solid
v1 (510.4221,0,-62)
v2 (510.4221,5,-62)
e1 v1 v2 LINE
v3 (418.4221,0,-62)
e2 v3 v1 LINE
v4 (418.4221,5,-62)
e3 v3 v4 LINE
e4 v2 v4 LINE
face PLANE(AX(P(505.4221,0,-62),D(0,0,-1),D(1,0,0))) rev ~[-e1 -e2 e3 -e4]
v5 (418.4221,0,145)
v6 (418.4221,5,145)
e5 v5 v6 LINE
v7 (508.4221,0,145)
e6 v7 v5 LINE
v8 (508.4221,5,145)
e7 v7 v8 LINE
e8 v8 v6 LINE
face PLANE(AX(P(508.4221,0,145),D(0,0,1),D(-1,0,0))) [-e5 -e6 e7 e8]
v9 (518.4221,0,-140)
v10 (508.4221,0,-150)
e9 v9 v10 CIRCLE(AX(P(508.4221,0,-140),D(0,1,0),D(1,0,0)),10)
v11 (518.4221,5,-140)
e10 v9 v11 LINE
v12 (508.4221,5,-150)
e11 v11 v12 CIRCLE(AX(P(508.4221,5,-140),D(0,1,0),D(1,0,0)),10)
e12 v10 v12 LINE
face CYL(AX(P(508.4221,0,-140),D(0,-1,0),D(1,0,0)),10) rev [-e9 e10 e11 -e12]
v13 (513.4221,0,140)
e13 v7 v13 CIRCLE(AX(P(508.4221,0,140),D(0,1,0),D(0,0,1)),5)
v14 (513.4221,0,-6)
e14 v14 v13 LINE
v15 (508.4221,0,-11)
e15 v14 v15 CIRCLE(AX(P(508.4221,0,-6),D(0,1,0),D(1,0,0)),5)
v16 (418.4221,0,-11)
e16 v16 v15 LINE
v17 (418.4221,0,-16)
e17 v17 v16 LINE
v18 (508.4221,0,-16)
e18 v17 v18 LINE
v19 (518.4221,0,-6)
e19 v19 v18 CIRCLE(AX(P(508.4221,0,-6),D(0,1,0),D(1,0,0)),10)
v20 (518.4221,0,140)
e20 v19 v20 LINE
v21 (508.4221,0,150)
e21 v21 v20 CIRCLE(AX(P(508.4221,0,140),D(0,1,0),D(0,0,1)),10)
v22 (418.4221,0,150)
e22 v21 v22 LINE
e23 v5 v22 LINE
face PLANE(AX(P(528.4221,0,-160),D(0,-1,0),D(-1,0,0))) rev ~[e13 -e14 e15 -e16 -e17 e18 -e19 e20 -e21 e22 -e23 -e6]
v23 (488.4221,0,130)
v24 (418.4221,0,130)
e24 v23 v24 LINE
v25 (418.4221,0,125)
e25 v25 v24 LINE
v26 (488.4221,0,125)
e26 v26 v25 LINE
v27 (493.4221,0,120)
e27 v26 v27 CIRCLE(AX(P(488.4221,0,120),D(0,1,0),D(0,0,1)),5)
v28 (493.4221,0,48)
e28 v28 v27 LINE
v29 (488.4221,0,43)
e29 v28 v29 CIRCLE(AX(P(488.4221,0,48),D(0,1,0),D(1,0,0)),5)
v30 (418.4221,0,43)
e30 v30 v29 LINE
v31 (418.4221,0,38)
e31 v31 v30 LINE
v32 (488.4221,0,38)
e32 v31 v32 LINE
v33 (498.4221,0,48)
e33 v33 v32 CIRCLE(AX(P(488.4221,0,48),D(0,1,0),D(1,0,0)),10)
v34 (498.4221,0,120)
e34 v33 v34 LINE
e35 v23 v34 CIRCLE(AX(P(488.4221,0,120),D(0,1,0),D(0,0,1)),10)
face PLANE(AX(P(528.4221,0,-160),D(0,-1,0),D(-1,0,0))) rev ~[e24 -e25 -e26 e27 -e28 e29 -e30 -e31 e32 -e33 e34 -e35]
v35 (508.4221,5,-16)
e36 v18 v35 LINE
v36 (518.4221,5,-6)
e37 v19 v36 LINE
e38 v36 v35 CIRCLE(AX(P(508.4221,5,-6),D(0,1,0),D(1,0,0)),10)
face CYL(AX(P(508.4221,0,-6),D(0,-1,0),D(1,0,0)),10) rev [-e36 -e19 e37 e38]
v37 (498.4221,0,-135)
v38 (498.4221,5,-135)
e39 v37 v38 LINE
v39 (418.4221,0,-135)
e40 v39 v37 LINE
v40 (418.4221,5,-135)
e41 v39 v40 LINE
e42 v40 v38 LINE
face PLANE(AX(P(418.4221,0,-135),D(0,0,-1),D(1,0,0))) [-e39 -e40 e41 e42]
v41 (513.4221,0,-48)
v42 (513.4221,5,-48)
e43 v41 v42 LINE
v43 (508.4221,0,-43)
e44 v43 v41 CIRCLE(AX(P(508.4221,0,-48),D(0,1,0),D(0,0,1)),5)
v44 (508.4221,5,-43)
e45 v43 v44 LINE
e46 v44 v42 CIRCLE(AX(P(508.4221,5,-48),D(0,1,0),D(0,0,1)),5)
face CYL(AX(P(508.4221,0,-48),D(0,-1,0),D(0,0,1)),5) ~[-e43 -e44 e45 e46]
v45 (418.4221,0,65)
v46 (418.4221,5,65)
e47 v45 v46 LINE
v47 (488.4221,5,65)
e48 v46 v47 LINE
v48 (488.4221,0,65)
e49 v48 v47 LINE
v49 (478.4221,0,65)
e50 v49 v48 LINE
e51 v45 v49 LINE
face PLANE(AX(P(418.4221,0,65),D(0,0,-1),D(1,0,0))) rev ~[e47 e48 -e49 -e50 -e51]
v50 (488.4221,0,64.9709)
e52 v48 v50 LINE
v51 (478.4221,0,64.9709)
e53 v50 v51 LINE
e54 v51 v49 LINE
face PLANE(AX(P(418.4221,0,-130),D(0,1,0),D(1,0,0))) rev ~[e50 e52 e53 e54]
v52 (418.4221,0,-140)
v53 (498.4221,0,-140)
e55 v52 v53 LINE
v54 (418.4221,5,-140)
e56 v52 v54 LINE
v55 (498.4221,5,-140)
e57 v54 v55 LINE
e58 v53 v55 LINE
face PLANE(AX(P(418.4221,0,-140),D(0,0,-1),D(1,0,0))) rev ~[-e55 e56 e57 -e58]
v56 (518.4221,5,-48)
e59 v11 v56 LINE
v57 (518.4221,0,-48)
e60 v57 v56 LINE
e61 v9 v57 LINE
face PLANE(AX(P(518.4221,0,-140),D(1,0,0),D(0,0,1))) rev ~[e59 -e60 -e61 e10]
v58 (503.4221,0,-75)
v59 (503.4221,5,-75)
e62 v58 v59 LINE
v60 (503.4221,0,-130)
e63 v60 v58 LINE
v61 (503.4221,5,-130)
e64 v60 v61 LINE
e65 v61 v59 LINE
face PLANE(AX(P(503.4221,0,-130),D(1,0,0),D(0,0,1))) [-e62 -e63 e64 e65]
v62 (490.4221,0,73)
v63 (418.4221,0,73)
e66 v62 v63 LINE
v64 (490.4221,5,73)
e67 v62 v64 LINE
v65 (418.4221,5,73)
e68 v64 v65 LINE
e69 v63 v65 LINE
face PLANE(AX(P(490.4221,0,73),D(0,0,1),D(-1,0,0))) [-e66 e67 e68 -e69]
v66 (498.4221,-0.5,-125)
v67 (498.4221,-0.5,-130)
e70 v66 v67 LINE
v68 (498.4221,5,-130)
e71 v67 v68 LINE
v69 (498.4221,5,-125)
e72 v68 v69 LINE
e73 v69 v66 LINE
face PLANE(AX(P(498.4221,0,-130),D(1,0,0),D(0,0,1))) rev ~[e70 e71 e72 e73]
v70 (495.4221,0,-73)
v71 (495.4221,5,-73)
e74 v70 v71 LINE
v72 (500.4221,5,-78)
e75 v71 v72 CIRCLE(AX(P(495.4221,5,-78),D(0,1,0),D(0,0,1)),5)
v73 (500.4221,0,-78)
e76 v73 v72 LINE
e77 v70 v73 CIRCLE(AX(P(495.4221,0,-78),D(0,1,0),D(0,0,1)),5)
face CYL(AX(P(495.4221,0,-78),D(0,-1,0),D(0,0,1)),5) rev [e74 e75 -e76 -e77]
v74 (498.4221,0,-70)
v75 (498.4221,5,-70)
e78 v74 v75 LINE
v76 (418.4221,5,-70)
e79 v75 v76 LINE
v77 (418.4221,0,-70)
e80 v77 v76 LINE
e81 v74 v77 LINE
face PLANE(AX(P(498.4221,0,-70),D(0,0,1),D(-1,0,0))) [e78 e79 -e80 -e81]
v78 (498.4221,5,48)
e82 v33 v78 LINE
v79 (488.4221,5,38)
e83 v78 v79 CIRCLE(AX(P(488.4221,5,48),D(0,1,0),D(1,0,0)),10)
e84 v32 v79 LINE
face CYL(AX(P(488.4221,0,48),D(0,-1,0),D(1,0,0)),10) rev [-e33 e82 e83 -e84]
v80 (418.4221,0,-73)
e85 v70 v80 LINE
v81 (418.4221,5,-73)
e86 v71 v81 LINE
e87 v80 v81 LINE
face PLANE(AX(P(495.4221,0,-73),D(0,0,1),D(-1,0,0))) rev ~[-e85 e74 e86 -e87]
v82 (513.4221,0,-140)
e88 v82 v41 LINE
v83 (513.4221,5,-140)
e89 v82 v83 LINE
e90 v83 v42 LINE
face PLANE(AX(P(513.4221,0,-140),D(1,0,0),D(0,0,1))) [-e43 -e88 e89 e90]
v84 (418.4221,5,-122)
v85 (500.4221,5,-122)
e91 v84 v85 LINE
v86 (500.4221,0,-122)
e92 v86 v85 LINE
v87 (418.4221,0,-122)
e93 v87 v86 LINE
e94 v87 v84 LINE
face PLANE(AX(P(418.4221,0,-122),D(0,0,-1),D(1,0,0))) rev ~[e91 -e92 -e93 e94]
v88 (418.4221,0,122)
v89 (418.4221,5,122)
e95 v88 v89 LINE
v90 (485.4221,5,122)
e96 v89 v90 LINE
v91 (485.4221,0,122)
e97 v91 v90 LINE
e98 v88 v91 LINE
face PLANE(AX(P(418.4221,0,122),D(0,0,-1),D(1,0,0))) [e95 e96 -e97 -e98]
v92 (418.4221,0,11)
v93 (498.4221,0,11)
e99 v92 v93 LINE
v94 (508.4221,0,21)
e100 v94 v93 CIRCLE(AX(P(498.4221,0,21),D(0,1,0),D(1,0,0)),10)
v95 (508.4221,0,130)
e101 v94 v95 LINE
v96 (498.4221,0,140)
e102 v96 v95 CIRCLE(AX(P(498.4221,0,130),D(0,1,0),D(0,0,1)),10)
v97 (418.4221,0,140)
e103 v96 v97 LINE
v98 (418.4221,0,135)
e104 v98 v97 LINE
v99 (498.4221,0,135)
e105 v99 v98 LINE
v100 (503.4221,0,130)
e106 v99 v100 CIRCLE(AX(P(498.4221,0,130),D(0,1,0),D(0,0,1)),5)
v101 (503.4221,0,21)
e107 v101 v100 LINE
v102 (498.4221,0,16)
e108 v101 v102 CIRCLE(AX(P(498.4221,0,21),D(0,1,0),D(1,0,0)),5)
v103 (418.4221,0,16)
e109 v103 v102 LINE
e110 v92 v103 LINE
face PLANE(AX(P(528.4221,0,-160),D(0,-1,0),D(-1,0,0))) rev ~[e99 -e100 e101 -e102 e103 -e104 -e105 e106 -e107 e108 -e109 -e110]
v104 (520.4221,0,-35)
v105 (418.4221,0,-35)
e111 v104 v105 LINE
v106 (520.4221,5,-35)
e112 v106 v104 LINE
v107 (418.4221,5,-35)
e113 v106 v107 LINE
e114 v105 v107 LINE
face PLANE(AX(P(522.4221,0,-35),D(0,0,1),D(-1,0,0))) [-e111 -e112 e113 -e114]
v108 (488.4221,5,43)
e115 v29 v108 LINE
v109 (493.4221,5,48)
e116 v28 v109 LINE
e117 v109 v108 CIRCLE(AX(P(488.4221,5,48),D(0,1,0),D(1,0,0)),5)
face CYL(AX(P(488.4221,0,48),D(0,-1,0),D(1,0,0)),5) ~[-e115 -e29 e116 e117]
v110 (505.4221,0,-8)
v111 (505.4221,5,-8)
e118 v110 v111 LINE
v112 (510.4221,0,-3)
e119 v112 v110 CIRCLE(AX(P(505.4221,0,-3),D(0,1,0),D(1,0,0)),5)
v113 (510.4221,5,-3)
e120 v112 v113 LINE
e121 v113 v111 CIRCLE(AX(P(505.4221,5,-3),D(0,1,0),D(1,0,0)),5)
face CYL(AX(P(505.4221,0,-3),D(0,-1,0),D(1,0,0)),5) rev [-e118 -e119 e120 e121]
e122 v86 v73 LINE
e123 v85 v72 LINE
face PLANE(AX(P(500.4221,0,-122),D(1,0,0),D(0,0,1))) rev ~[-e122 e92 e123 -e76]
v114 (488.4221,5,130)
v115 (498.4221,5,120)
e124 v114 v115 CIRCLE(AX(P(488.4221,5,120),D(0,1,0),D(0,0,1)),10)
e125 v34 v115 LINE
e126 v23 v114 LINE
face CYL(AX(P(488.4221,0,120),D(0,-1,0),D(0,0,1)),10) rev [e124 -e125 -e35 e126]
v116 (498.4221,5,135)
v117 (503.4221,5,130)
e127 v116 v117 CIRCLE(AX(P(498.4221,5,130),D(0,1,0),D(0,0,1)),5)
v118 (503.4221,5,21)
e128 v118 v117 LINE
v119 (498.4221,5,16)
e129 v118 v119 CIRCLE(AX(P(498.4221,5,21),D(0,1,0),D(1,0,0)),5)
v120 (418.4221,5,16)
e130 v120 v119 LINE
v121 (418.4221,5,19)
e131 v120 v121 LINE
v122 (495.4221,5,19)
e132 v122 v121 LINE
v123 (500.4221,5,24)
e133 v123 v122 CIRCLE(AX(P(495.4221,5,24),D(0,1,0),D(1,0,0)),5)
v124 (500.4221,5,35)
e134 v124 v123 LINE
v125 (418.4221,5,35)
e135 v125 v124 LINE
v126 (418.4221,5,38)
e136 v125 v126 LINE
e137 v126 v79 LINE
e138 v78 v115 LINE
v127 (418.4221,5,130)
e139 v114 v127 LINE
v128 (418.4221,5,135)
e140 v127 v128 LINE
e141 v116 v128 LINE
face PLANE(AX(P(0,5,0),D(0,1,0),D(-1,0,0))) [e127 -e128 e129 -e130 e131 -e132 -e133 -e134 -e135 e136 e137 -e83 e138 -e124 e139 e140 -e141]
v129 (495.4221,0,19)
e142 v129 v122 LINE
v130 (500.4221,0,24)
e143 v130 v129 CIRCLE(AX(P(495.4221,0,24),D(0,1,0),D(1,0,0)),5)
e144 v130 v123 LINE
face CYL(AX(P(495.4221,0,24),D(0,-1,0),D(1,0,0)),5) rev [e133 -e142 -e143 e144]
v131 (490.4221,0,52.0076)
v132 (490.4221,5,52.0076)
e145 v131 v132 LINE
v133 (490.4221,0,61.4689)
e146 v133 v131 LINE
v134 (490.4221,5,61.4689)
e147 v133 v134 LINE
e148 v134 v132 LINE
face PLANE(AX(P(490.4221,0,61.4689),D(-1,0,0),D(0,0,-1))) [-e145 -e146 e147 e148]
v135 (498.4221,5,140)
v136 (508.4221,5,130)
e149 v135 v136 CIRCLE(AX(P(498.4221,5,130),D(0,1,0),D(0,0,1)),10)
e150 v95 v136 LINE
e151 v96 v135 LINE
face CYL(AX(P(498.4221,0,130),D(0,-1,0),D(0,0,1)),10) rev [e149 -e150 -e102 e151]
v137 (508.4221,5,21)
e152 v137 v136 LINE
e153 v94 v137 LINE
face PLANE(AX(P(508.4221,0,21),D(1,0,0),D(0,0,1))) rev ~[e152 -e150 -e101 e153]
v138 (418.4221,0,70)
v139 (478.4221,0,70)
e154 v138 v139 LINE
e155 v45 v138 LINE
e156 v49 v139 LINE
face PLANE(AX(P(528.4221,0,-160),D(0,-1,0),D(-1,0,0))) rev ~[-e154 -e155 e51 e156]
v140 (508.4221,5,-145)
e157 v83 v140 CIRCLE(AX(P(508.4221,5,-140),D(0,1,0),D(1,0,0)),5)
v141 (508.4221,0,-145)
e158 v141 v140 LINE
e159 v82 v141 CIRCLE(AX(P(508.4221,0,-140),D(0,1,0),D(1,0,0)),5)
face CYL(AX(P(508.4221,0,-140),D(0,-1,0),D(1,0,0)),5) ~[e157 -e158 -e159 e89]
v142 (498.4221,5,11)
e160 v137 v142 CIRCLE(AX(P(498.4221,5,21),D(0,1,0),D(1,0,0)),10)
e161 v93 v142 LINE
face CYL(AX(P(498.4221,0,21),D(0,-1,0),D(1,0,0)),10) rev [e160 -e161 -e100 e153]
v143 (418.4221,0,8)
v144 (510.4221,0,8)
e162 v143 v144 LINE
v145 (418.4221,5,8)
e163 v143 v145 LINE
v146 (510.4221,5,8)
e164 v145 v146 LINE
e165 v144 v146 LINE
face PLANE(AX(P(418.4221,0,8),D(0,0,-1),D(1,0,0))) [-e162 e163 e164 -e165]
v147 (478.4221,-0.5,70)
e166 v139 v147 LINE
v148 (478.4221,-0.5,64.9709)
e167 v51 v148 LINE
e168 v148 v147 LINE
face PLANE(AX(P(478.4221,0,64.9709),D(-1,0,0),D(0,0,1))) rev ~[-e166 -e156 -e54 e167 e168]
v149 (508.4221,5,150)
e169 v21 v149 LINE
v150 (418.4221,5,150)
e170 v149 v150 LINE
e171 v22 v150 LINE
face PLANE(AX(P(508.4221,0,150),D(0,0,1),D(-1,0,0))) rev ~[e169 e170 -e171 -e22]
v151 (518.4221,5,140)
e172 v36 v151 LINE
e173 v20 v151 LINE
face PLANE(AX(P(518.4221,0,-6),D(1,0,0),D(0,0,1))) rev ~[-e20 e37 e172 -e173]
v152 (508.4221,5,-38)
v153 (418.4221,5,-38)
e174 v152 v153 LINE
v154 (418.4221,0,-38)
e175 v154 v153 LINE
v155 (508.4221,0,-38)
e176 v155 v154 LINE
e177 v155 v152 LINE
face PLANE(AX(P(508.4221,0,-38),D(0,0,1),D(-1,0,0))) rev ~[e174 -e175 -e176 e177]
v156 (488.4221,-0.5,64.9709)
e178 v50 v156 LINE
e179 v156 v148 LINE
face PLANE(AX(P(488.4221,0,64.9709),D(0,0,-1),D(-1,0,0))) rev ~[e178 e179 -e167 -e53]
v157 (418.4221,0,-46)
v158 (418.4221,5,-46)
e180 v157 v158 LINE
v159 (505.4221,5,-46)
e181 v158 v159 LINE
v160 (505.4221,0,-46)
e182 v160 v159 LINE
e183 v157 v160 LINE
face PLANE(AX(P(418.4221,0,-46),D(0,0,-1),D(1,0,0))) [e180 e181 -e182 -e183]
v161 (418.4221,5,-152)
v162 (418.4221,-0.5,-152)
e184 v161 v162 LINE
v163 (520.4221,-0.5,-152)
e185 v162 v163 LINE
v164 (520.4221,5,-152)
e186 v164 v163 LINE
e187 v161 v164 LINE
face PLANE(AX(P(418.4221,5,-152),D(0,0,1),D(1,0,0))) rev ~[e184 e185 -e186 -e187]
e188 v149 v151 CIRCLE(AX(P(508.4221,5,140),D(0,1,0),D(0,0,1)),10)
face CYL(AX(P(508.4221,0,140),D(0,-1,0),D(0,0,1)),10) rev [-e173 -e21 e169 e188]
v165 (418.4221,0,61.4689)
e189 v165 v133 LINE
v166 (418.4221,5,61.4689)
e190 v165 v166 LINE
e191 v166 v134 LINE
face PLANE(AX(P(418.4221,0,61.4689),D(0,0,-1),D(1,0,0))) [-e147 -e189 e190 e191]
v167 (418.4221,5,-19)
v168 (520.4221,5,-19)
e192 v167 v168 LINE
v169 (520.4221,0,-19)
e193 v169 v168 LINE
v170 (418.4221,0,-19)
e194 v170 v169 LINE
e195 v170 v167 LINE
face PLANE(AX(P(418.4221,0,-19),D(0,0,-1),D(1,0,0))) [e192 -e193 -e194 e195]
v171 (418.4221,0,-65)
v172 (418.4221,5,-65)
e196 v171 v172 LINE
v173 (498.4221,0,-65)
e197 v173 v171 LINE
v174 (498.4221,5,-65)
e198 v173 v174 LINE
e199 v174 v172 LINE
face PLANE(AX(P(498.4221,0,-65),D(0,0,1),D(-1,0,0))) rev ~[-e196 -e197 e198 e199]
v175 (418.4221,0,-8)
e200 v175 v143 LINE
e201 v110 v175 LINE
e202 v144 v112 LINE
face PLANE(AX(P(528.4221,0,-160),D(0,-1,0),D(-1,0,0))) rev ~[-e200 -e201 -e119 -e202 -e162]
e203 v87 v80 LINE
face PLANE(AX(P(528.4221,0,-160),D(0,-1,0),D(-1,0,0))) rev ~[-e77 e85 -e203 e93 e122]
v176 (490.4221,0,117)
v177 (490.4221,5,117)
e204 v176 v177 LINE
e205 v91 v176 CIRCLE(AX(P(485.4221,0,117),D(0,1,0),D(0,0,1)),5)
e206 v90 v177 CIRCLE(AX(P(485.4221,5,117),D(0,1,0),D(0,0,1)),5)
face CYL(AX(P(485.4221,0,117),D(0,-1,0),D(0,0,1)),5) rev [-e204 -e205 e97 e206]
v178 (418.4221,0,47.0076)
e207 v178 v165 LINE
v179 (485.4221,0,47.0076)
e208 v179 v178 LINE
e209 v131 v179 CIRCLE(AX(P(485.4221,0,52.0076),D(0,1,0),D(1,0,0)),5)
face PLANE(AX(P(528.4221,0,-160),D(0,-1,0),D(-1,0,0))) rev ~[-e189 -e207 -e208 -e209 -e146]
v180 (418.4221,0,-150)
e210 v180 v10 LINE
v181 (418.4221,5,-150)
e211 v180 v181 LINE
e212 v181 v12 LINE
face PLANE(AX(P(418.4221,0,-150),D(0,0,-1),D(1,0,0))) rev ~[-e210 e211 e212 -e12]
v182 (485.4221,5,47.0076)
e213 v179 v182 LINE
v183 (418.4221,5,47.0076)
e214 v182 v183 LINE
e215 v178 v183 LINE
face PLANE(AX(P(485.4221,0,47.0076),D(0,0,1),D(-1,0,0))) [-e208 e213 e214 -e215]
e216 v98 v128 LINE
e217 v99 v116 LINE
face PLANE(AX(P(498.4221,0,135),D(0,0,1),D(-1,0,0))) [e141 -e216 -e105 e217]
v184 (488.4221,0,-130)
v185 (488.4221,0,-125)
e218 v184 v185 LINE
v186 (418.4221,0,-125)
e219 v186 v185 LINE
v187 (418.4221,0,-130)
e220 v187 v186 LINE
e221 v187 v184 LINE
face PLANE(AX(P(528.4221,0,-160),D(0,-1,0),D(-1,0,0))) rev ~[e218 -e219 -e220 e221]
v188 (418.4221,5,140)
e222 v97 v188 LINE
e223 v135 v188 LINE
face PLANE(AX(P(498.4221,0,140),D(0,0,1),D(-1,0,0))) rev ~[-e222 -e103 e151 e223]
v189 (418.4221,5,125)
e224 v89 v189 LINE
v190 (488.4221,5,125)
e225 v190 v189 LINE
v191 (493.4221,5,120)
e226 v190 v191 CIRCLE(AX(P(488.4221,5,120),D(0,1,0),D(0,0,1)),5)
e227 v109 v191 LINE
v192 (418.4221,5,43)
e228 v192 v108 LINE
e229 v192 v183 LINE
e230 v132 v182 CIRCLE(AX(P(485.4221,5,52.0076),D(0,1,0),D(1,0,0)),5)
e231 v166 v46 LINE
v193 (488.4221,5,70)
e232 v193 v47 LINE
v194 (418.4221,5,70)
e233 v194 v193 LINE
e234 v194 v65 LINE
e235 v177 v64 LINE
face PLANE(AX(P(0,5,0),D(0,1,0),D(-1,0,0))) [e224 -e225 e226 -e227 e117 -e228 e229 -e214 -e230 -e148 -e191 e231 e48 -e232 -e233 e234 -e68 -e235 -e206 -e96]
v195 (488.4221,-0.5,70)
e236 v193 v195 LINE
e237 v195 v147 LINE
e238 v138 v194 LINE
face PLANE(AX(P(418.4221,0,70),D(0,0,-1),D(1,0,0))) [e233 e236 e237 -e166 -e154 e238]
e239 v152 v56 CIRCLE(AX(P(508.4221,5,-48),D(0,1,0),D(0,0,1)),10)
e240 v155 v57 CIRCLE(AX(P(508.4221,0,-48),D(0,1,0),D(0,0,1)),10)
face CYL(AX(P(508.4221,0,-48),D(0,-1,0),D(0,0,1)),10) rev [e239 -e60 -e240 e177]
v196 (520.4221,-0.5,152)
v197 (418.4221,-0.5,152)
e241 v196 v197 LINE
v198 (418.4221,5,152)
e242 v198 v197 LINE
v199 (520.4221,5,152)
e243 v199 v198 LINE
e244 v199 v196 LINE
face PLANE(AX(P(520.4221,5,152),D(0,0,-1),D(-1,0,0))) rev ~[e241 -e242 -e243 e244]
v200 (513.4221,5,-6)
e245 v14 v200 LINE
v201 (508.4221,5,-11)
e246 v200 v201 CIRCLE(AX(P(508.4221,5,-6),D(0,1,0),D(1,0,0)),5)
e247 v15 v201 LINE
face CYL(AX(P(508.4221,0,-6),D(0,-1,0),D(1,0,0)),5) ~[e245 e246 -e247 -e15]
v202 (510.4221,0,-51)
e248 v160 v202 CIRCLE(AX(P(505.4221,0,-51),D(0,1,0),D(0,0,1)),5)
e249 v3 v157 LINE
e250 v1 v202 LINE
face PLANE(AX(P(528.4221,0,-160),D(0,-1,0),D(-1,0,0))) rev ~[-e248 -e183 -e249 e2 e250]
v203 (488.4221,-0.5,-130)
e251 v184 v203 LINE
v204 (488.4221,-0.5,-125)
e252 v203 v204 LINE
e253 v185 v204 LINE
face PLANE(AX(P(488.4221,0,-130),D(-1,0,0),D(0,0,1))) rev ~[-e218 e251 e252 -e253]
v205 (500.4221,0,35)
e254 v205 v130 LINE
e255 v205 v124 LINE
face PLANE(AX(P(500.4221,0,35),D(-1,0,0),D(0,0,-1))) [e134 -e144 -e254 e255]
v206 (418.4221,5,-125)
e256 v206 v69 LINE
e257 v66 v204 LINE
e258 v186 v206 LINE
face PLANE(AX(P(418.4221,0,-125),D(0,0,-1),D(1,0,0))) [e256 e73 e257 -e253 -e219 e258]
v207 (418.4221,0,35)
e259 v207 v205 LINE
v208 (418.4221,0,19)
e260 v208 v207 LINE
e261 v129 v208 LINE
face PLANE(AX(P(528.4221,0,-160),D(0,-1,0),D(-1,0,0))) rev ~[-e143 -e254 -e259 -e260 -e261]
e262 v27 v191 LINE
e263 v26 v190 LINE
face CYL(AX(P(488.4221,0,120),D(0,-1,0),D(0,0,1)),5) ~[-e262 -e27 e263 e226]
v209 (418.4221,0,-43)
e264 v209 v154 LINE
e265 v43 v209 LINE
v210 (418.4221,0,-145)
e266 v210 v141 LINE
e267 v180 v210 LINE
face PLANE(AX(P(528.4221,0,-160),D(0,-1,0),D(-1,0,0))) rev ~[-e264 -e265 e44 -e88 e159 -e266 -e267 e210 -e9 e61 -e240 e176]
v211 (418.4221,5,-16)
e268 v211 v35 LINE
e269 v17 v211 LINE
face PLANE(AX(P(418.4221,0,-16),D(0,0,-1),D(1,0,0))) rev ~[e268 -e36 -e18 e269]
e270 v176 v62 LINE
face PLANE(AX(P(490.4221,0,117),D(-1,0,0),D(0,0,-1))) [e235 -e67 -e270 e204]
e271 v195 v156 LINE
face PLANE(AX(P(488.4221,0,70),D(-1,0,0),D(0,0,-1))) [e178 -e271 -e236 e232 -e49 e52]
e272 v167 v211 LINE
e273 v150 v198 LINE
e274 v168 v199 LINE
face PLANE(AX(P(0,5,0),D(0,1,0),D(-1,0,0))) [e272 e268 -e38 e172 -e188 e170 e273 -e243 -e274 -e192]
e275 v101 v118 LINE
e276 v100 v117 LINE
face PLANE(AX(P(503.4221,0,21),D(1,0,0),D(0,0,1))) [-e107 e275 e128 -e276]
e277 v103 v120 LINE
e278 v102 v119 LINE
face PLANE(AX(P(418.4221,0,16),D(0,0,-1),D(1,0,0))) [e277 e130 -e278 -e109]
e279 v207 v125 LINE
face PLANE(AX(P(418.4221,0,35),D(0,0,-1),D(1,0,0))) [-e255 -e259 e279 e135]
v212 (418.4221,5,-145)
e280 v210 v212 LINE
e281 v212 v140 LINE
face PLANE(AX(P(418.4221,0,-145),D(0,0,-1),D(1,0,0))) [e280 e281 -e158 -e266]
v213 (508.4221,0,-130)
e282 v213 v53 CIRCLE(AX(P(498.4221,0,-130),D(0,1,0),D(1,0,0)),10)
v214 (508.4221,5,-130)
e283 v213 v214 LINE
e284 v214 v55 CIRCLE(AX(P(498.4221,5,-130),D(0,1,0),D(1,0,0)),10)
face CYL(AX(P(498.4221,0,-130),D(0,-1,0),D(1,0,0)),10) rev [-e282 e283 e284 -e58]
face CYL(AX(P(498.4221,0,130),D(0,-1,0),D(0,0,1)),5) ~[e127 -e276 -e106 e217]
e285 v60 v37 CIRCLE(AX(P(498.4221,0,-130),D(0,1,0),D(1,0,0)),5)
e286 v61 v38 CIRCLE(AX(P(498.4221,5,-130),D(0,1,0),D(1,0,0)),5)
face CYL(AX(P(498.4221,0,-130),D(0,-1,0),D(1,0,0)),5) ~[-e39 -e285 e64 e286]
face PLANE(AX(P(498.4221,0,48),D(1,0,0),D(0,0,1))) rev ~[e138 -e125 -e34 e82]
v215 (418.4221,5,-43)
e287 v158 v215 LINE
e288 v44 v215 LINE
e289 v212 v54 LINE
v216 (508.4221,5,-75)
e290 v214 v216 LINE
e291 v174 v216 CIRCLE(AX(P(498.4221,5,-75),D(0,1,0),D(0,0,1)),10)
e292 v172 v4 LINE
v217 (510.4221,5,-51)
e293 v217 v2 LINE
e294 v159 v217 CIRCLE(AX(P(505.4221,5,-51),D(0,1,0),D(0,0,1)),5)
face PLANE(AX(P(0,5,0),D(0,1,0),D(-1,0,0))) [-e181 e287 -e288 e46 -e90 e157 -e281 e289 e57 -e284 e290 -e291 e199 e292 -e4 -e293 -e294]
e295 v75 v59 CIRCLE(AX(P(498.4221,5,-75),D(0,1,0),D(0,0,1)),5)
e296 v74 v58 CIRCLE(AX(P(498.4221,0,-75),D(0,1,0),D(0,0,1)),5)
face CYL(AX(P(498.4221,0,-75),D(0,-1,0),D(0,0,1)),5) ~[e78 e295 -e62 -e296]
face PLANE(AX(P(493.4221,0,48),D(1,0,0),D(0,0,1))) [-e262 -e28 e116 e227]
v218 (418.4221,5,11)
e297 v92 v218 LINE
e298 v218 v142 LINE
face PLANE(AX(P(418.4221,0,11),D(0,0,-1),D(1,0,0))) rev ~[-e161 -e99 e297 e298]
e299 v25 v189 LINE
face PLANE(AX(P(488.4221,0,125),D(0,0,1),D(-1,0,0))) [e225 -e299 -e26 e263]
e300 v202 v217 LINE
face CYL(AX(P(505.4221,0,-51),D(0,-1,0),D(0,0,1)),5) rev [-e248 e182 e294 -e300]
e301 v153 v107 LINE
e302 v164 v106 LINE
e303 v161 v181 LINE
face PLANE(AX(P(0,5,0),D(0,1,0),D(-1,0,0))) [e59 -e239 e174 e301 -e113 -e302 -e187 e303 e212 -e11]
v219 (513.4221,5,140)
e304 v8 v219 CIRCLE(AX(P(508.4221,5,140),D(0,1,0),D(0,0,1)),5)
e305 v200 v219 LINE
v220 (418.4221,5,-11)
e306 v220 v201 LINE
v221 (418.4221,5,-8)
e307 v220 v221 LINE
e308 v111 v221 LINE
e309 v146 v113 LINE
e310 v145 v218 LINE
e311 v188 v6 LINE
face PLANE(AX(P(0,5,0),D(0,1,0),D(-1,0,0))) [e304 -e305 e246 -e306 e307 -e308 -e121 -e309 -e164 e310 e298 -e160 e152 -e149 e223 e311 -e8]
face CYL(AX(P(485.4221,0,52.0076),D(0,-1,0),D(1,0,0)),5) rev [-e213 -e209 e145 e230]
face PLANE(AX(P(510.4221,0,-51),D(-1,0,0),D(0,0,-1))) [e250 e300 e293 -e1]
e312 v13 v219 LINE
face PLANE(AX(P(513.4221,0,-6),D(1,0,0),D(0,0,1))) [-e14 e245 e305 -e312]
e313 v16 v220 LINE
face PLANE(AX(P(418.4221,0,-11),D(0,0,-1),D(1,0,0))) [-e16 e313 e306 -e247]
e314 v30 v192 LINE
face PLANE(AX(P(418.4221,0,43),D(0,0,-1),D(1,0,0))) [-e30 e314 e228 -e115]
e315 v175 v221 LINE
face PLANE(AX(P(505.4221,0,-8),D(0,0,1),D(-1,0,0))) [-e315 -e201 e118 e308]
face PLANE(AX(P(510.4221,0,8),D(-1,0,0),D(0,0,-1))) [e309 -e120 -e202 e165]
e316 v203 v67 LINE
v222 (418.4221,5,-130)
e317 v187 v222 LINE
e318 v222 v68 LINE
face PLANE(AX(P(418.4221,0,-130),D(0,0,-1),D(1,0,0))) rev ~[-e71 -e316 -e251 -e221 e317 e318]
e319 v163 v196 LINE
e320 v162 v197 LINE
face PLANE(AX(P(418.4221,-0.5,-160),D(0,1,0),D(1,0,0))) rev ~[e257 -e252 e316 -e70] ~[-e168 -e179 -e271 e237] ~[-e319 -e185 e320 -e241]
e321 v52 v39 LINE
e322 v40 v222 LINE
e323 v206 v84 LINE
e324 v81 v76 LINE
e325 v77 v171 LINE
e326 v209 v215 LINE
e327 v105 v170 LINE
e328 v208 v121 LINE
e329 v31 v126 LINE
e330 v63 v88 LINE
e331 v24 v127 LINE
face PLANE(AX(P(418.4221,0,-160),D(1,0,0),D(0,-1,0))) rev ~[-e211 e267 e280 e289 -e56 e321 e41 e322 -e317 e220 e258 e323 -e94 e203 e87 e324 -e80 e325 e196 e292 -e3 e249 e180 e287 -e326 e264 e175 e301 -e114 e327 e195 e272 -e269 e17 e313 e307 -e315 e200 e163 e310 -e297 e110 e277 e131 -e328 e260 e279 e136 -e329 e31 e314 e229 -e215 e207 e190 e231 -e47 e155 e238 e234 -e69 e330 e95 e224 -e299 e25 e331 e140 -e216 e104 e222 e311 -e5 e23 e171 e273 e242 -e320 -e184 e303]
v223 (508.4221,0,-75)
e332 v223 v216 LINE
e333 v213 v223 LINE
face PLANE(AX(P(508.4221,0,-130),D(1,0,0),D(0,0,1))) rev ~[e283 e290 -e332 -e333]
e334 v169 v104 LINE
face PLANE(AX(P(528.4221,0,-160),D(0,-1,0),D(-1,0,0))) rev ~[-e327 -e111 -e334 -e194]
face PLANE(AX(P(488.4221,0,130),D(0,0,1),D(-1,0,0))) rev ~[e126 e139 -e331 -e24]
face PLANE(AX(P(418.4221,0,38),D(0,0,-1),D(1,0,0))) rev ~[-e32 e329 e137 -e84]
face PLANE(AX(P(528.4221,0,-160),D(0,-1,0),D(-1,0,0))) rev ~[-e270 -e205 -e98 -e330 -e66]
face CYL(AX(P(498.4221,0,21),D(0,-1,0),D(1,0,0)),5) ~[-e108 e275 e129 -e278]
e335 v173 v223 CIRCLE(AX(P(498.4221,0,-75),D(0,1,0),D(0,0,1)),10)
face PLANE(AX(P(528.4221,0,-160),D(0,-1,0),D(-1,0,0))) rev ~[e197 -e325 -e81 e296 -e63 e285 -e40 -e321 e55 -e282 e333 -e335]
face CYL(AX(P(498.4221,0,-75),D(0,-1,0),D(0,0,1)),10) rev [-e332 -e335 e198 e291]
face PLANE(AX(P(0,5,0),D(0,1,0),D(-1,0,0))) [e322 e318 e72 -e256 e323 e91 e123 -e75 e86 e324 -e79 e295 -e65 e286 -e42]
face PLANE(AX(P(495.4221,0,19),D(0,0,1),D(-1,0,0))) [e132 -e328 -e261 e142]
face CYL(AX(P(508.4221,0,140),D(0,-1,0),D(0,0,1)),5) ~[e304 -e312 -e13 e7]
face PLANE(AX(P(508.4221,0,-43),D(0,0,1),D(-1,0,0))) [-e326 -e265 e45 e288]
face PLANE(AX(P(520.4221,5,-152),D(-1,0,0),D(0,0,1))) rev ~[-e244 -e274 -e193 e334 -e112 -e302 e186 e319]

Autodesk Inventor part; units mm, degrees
ref_plane "YZ Plane" through (0, 0, 0) normal (1, 0, 0) x (0, 1, 0)
ref_plane "XZ Plane" through (0, 0, 0) normal (0, 1, 0) x (-1, 0, 0)
ref_plane "XY Plane" through (0, 0, 0) normal (0, 0, 1) x (1, 0, 0)
sketch "Sketch1" plane through (0, 0, 0) normal (0, 1, 0) x (-1, 0, 0)
  line L0 (-418.4221, -16) -> (-508.4221, -16)
  line L1 (-518.4221, -6) -> (-518.4221, 140)
  line L2 (-508.4221, 150) -> (-418.4221, 150)
  line L3 (-418.4221, -11) -> (-508.4221, -11)
  line L4 (-513.4221, -6) -> (-513.4221, 140)
  line L5 (-508.4221, 145) -> (-418.4221, 145)
  line L6 (-418.4221, 16) -> (-498.4221, 16)
  line L7 (-503.4221, 21) -> (-503.4221, 130)
  line L8 (-418.4221, 11) -> (-498.4221, 11)
  line L9 (-508.4221, 21) -> (-508.4221, 130)
  line L10 (-498.4221, 135) -> (-418.4221, 135)
  line L11 (-498.4221, 140) -> (-418.4221, 140)
  line L12 (-418.4221, 43) -> (-488.4221, 43)
  line L13 (-418.4221, 38) -> (-488.4221, 38)
  line L14 (-493.4221, 48) -> (-493.4221, 120)
  line L15 (-488.4221, 125) -> (-418.4221, 125)
  line L16 (-418.4221, 70) -> (-488.4221, 70)
  line L17 (-498.4221, 48) -> (-498.4221, 120)
  line L18 (-488.4221, 130) -> (-418.4221, 130)
  line L19 (-418.4221, 65) -> (-488.4221, 65)
  line L20 (-488.4221, 70) -> (-488.4221, 65)
  line L21 (-418.4221, -150) -> (-508.4221, -150)
  line L22 (-518.4221, -140) -> (-518.4221, -48)
  line L23 (-418.4221, -145) -> (-508.4221, -145)
  line L24 (-508.4221, -38) -> (-418.4221, -38)
  line L25 (-418.4221, -140) -> (-498.4221, -140)
  line L26 (-513.4221, -140) -> (-513.4221, -48)
  line L27 (-508.4221, -43) -> (-418.4221, -43)
  line L28 (-418.4221, -135) -> (-498.4221, -135)
  line L29 (-503.4221, -130) -> (-503.4221, -75)
  line L30 (-508.4221, -130) -> (-508.4221, -75)
  line L31 (-498.4221, -65) -> (-418.4221, -65)
  line L32 (-498.4221, -70) -> (-418.4221, -70)
  line L33 (-418.4221, -125) -> (-498.4221, -125)
  line L34 (-418.4221, -130) -> (-498.4221, -130)
  line L35 (-498.4221, -130) -> (-498.4221, -125)
  line L36 (-528.4221, -160) -> (-528.4221, 160)
  line L37 (-418.4221, -160) -> (-528.4221, -160)
  line L38 (-528.4221, 160) -> (-418.4221, 160)
  line L39 (-418.4221, -221.6121) -> (-418.4221, 308.2529) construction
  line L40 (-418.4221, -160) -> (-418.4221, 160)
  line L41 (-418.4221, -122) -> (-500.4221, -122)
  line L42 (-500.4221, -122) -> (-500.4221, -78)
  line L43 (-495.4221, -73) -> (-418.4221, -73)
  line L44 (-418.4221, -73) -> (-418.4221, -122)
  line L45 (-505.4221, -62) -> (-418.4221, -62)
  line L46 (-418.4221, -62) -> (-418.4221, -46)
  line L47 (-418.4221, -46) -> (-505.4221, -46)
  line L48 (-510.4221, -51) -> (-510.4221, -57)
  line L49 (-522.4221, -35) -> (-418.4221, -35)
  line L50 (-418.4221, -35) -> (-418.4221, -19)
  line L51 (-418.4221, -19) -> (-522.4221, -19)
  line L52 (-522.4221, -19) -> (-522.4221, -35)
  line L53 (-505.4221, -8) -> (-418.4221, -8)
  line L54 (-418.4221, -8) -> (-418.4221, 8)
  line L55 (-418.4221, 8) -> (-510.4221, 8)
  line L56 (-510.4221, 8) -> (-510.4221, -3)
  line L57 (-495.4221, 19) -> (-418.4221, 19)
  line L58 (-418.4221, 19) -> (-418.4221, 35)
  line L59 (-418.4221, 35) -> (-500.4221, 35)
  line L60 (-500.4221, 35) -> (-500.4221, 24)
  line L61 (-490.4221, 73) -> (-418.4221, 73)
  line L62 (-418.4221, 73) -> (-418.4221, 122)
  line L63 (-418.4221, 122) -> (-485.4221, 122)
  line L64 (-490.4221, 117) -> (-490.4221, 73)
  line L65 (-485.4221, 47.0076) -> (-418.4221, 47.0076)
  line L66 (-418.4221, 47.0076) -> (-418.4221, 61.4689)
  line L67 (-418.4221, 61.4689) -> (-490.4221, 61.4689)
  line L68 (-490.4221, 61.4689) -> (-490.4221, 52.0076)
  arc A0 (-503.4221, -130) -> (-498.4221, -135) centre (-498.4221, -130) ccw
  arc A1 (-498.4221, -70) -> (-503.4221, -75) centre (-498.4221, -75) ccw
  arc A2 (-513.4221, -140) -> (-508.4221, -145) centre (-508.4221, -140) ccw
  arc A3 (-505.4221, -46) -> (-510.4221, -51) centre (-505.4221, -51) ccw
  arc A4 (-508.4221, -43) -> (-513.4221, -48) centre (-508.4221, -48) ccw
  arc A5 (-508.4221, -130) -> (-498.4221, -140) centre (-498.4221, -130) ccw
  arc A6 (-498.4221, -65) -> (-508.4221, -75) centre (-498.4221, -75) ccw
  arc A7 (-493.4221, 48) -> (-488.4221, 43) centre (-488.4221, 48) ccw
  arc A8 (-488.4221, 125) -> (-493.4221, 120) centre (-488.4221, 120) ccw
  arc A9 (-485.4221, 122) -> (-490.4221, 117) centre (-485.4221, 117) ccw
  arc A10 (-490.4221, 52.0076) -> (-485.4221, 47.0076) centre (-485.4221, 52.0076) ccw
  arc A11 (-498.4221, 48) -> (-488.4221, 38) centre (-488.4221, 48) ccw
  arc A12 (-488.4221, 130) -> (-498.4221, 120) centre (-488.4221, 120) ccw
  arc A13 (-498.4221, 140) -> (-508.4221, 130) centre (-498.4221, 130) ccw
  arc A14 (-508.4221, 21) -> (-498.4221, 11) centre (-498.4221, 21) ccw
  arc A15 (-503.4221, 21) -> (-498.4221, 16) centre (-498.4221, 21) ccw
  arc A16 (-498.4221, 135) -> (-503.4221, 130) centre (-498.4221, 130) ccw
  arc A17 (-508.4221, 145) -> (-513.4221, 140) centre (-508.4221, 140) ccw
  arc A18 (-510.4221, -3) -> (-505.4221, -8) centre (-505.4221, -3) ccw
  arc A19 (-513.4221, -6) -> (-508.4221, -11) centre (-508.4221, -6) ccw
  arc A20 (-518.4221, -6) -> (-508.4221, -16) centre (-508.4221, -6) ccw
  arc A21 (-508.4221, 150) -> (-518.4221, 140) centre (-508.4221, 140) ccw
  arc A22 (-495.4221, -73) -> (-500.4221, -78) centre (-495.4221, -78) ccw
  arc A23 (-500.4221, 24) -> (-495.4221, 19) centre (-495.4221, 24) ccw
  line L69 (-508.4221, -160) -> (-508.4221, -140) construction
  line L70 (-508.4221, -140) -> (-528.4221, -140) construction
  arc A24 (-518.4221, -140) -> (-508.4221, -150) centre (-508.4221, -140) ccw
  line L71 (-508.4221, -38) -> (-508.4221, -43) construction
  arc A25 (-508.4221, -38) -> (-518.4221, -48) centre (-508.4221, -48) ccw
  line L72 (-510.4221, -57) -> (-510.4221, -62)
  line L73 (-505.4221, -62) -> (-510.4221, -62)
  point P0 (-518.4221, -16)
  point P1 (-518.4221, 150)
  point P2 (-513.4221, -11)
  point P3 (-513.4221, 145)
  point P4 (-503.4221, 16)
  point P5 (-503.4221, 135)
  point P6 (-508.4221, 11)
  point P7 (-493.4221, 43)
  point P8 (-498.4221, 38)
  point P9 (-493.4221, 125)
  point P10 (-498.4221, 130)
  point P11 (-508.4221, -150)
  point P12 (-513.4221, -145)
  point P13 (-508.4221, -140)
  point P14 (-513.4221, -43)
  point P15 (-503.4221, -135)
  point P16 (-503.4221, -70)
  point P17 (-508.4221, -65)
  point P18 (-518.4221, -94)
  point P19 (-500.4221, -73)
  point P20 (-510.4221, -46)
  point P21 (-510.4221, -8)
  point P22 (-500.4221, 19)
  point P23 (-490.4221, 122)
  point P24 (-490.4221, 47.0076)
  point P25 (-518.4221, -140)
  point P26 (-518.4221, -43)
  dimension "d2" = 5
  dimension "d3" = 5
  dimension "d5" = 5
  dimension "d6" = 5
  dimension "d7" = 5
  dimension "d9" = 5
  dimension "d12" = 22
  dimension "d13" = 5
  dimension "d14" = 5
  dimension "d15" = 22
  dimension "d16" = 5
  dimension "d17" = 5
  dimension "d18" = 5
  dimension "d20" = 22
  dimension "d22" = 5
  dimension "d23" = 5
  dimension "d24" = 5
  dimension "d32" = 5
  dimension "d35" = 5
  dimension "d38" = 5
  dimension "d40" = 5
  dimension "d41" = 5
  dimension "d42" = 5
  dimension "d43" = 5
  dimension "d46" = 22
  dimension "d47" = 5
  dimension "d48" = 5
  dimension "d49" = 5
  dimension "d50" = 5
  dimension "d61" = 10
  dimension "d62" = 10
  dimension "d63" = 110
  dimension "d64" = 3
  dimension "d65" = 3
  dimension "d66" = 3
  dimension "d67" = 3
  dimension "d68" = 3
  dimension "d69" = 3
  dimension "d70" = 3
  dimension "d71" = 3
  dimension "d72" = 6
  dimension "d73" = 3
  dimension "d74" = 3
  dimension "d75" = 3
  dimension "d76" = 3
  dimension "d77" = 3
  dimension "d78" = 3
  dimension "d79" = 3
  dimension "d80" = 3
  dimension "d81" = 3
  dimension "d87" = 5
  dimension "d88" = 10
  dimension "d89" = 5
  dimension "d90" = 10
  dimension "d91" = 5
  dimension "d92" = 10
  dimension "d93" = 10
extrude "Extrusion1" add sketch "Sketch1" along normal blind 5 contours L40 L51 L52 L49 L24 A25 L22 A24 L21 L37 L36 L38 L2 A21 L1 A20 L0 | L3 A19 L4 A17 L5 L40 L11 A13 L9 A14 L8 L55 L56 A18 L53 | L40 L47 A3 L48 L72 L73 L45 L31 A6 L30 A5 L25 L23 A2 L26 A4 L27 | L6 A15 L7 A16 L10 L40 L18 A12 L17 A11 L13 L59 L60 A23 L57 | L40 L43 A22 L42 L41 L33 L35 L34 L28 A0 L29 A1 L32 | L12 A7 L14 A8 L15 L40 L63 A9 L64 L61 L16 L20 L19 L67 L68 A10 L65
sketch "Sketch2" plane through (528.4221, 0, -160) normal (0, 0, -1) x (-1, 0, 0)
  line L0 (0, 0) -> (0, 5) projected
  line L1 (0, 0) -> (110, 0)
  line L2 (110, 0) -> (110, -0.5)
  line L3 (110, -0.5) -> (0, -0.5)
  line L4 (0, -0.5) -> (0, 0)
  point P0 (528.4221, 0)
  dimension "d84" = 0.5
extrude "Extrusion2" add sketch "Sketch2" against normal blind 320
sketch "Sketch3" plane through (418.4221, 0, -130) normal (0, 1, 0) x (1, 0, 0)
  line L0 (0, 0) -> (80, 0) projected
  line L1 (80, -5) -> (0, -5) projected
  line L2 (80, 0) -> (70, 0)
  line L3 (70, 0) -> (70, -5)
  line L4 (70, -5) -> (80, -5)
  line L5 (80, -5) -> (80, 0)
  line L6 (70, -200) -> (0, -200) projected
  line L7 (70, -194.9709) -> (60, -194.9709)
  line L8 (60, -194.9709) -> (60, -200)
  line L9 (60, -200) -> (70, -200)
  line L10 (70, -200) -> (70, -194.9709)
  point P0 (-418.4221, -130)
  dimension "d94" = 10
  dimension "d95" = 10
extrude "Extrusion3" cut sketch "Sketch3" against normal blind 15
sketch "Sketch4" plane through (0, 5, 0) normal (0, 1, 0) x (1, 0, 0)
  line L0 (418.4221, 160) -> (418.4221, -160) projected
  line L1 (418.4221, 152) -> (520.4221, 152)
  line L2 (520.4221, 152) -> (520.4221, -152)
  line L3 (520.4221, -152) -> (418.4221, -152)
  line L4 (418.4221, -152) -> (418.4221, 152)
  line L5 (518.4221, 6) -> (518.4221, -140) projected
  line L6 (508.4221, -150) -> (418.4221, -150) projected
  line L7 (418.4221, 150) -> (508.4221, 150) projected
  line L8 (528.4221, 160) -> (528.4221, -160) projected
  line L9 (528.4221, 160) -> (418.4221, 160)
  line L10 (418.4221, 160) -> (418.4221, -160)
  line L11 (418.4221, -160) -> (528.4221, -160)
  line L12 (528.4221, -160) -> (528.4221, 160)
  point P0 (0, 0)
  dimension "d98" = 2
  dimension "d99" = 2
  dimension "d100" = 2
extrude "Extrusion4" cut sketch "Sketch4" against normal blind 10 contours L9 L8 L11 L0 L3 L2 L1
equation "\"d2\" = d25"
equation "\"d3\" = d25"
equation "\"d5\" = d26"
equation "\"d6\" = d26"
equation "\"d7\" = d25"
equation "\"d9\" = d25"
equation "\"d12\" = d28"
equation "\"d13\" = d25"
equation "\"d14\" = d25"
equation "\"d15\" = d28"
equation "\"d16\" = d26"
equation "\"d17\" = d26"
equation "\"d18\" = d25"
equation "\"d20\" = d28"
equation "\"d22\" = d25"
equation "\"d23\" = d25"
equation "\"d24\" = d26"
equation "\"d32\" = d51"
equation "\"d35\" = d51"
equation "\"d38\" = d51"
equation "\"d40\" = d51"
equation "\"d41\" = d53"
equation "\"d42\" = d51"
equation "\"d43\" = d51"
equation "\"d46\" = d54"
equation "\"d47\" = d53"
equation "\"d48\" = d51"
equation "\"d49\" = d53"
equation "\"d50\" = d53"
equation "\"d25\" = 5"
equation "\"d26\" = 5"
equation "\"d28\" = -1.2 * d25 + 0.2 * d29"
equation "\"d51\" = 5"
equation "\"d53\" = 5"
equation "\"d54\" = -1.2 * d51 + 0.2 * d55"
equation "\"d29\" = 140"
equation "\"d55\" = 140"
properties part number "wire_holder_half2"
